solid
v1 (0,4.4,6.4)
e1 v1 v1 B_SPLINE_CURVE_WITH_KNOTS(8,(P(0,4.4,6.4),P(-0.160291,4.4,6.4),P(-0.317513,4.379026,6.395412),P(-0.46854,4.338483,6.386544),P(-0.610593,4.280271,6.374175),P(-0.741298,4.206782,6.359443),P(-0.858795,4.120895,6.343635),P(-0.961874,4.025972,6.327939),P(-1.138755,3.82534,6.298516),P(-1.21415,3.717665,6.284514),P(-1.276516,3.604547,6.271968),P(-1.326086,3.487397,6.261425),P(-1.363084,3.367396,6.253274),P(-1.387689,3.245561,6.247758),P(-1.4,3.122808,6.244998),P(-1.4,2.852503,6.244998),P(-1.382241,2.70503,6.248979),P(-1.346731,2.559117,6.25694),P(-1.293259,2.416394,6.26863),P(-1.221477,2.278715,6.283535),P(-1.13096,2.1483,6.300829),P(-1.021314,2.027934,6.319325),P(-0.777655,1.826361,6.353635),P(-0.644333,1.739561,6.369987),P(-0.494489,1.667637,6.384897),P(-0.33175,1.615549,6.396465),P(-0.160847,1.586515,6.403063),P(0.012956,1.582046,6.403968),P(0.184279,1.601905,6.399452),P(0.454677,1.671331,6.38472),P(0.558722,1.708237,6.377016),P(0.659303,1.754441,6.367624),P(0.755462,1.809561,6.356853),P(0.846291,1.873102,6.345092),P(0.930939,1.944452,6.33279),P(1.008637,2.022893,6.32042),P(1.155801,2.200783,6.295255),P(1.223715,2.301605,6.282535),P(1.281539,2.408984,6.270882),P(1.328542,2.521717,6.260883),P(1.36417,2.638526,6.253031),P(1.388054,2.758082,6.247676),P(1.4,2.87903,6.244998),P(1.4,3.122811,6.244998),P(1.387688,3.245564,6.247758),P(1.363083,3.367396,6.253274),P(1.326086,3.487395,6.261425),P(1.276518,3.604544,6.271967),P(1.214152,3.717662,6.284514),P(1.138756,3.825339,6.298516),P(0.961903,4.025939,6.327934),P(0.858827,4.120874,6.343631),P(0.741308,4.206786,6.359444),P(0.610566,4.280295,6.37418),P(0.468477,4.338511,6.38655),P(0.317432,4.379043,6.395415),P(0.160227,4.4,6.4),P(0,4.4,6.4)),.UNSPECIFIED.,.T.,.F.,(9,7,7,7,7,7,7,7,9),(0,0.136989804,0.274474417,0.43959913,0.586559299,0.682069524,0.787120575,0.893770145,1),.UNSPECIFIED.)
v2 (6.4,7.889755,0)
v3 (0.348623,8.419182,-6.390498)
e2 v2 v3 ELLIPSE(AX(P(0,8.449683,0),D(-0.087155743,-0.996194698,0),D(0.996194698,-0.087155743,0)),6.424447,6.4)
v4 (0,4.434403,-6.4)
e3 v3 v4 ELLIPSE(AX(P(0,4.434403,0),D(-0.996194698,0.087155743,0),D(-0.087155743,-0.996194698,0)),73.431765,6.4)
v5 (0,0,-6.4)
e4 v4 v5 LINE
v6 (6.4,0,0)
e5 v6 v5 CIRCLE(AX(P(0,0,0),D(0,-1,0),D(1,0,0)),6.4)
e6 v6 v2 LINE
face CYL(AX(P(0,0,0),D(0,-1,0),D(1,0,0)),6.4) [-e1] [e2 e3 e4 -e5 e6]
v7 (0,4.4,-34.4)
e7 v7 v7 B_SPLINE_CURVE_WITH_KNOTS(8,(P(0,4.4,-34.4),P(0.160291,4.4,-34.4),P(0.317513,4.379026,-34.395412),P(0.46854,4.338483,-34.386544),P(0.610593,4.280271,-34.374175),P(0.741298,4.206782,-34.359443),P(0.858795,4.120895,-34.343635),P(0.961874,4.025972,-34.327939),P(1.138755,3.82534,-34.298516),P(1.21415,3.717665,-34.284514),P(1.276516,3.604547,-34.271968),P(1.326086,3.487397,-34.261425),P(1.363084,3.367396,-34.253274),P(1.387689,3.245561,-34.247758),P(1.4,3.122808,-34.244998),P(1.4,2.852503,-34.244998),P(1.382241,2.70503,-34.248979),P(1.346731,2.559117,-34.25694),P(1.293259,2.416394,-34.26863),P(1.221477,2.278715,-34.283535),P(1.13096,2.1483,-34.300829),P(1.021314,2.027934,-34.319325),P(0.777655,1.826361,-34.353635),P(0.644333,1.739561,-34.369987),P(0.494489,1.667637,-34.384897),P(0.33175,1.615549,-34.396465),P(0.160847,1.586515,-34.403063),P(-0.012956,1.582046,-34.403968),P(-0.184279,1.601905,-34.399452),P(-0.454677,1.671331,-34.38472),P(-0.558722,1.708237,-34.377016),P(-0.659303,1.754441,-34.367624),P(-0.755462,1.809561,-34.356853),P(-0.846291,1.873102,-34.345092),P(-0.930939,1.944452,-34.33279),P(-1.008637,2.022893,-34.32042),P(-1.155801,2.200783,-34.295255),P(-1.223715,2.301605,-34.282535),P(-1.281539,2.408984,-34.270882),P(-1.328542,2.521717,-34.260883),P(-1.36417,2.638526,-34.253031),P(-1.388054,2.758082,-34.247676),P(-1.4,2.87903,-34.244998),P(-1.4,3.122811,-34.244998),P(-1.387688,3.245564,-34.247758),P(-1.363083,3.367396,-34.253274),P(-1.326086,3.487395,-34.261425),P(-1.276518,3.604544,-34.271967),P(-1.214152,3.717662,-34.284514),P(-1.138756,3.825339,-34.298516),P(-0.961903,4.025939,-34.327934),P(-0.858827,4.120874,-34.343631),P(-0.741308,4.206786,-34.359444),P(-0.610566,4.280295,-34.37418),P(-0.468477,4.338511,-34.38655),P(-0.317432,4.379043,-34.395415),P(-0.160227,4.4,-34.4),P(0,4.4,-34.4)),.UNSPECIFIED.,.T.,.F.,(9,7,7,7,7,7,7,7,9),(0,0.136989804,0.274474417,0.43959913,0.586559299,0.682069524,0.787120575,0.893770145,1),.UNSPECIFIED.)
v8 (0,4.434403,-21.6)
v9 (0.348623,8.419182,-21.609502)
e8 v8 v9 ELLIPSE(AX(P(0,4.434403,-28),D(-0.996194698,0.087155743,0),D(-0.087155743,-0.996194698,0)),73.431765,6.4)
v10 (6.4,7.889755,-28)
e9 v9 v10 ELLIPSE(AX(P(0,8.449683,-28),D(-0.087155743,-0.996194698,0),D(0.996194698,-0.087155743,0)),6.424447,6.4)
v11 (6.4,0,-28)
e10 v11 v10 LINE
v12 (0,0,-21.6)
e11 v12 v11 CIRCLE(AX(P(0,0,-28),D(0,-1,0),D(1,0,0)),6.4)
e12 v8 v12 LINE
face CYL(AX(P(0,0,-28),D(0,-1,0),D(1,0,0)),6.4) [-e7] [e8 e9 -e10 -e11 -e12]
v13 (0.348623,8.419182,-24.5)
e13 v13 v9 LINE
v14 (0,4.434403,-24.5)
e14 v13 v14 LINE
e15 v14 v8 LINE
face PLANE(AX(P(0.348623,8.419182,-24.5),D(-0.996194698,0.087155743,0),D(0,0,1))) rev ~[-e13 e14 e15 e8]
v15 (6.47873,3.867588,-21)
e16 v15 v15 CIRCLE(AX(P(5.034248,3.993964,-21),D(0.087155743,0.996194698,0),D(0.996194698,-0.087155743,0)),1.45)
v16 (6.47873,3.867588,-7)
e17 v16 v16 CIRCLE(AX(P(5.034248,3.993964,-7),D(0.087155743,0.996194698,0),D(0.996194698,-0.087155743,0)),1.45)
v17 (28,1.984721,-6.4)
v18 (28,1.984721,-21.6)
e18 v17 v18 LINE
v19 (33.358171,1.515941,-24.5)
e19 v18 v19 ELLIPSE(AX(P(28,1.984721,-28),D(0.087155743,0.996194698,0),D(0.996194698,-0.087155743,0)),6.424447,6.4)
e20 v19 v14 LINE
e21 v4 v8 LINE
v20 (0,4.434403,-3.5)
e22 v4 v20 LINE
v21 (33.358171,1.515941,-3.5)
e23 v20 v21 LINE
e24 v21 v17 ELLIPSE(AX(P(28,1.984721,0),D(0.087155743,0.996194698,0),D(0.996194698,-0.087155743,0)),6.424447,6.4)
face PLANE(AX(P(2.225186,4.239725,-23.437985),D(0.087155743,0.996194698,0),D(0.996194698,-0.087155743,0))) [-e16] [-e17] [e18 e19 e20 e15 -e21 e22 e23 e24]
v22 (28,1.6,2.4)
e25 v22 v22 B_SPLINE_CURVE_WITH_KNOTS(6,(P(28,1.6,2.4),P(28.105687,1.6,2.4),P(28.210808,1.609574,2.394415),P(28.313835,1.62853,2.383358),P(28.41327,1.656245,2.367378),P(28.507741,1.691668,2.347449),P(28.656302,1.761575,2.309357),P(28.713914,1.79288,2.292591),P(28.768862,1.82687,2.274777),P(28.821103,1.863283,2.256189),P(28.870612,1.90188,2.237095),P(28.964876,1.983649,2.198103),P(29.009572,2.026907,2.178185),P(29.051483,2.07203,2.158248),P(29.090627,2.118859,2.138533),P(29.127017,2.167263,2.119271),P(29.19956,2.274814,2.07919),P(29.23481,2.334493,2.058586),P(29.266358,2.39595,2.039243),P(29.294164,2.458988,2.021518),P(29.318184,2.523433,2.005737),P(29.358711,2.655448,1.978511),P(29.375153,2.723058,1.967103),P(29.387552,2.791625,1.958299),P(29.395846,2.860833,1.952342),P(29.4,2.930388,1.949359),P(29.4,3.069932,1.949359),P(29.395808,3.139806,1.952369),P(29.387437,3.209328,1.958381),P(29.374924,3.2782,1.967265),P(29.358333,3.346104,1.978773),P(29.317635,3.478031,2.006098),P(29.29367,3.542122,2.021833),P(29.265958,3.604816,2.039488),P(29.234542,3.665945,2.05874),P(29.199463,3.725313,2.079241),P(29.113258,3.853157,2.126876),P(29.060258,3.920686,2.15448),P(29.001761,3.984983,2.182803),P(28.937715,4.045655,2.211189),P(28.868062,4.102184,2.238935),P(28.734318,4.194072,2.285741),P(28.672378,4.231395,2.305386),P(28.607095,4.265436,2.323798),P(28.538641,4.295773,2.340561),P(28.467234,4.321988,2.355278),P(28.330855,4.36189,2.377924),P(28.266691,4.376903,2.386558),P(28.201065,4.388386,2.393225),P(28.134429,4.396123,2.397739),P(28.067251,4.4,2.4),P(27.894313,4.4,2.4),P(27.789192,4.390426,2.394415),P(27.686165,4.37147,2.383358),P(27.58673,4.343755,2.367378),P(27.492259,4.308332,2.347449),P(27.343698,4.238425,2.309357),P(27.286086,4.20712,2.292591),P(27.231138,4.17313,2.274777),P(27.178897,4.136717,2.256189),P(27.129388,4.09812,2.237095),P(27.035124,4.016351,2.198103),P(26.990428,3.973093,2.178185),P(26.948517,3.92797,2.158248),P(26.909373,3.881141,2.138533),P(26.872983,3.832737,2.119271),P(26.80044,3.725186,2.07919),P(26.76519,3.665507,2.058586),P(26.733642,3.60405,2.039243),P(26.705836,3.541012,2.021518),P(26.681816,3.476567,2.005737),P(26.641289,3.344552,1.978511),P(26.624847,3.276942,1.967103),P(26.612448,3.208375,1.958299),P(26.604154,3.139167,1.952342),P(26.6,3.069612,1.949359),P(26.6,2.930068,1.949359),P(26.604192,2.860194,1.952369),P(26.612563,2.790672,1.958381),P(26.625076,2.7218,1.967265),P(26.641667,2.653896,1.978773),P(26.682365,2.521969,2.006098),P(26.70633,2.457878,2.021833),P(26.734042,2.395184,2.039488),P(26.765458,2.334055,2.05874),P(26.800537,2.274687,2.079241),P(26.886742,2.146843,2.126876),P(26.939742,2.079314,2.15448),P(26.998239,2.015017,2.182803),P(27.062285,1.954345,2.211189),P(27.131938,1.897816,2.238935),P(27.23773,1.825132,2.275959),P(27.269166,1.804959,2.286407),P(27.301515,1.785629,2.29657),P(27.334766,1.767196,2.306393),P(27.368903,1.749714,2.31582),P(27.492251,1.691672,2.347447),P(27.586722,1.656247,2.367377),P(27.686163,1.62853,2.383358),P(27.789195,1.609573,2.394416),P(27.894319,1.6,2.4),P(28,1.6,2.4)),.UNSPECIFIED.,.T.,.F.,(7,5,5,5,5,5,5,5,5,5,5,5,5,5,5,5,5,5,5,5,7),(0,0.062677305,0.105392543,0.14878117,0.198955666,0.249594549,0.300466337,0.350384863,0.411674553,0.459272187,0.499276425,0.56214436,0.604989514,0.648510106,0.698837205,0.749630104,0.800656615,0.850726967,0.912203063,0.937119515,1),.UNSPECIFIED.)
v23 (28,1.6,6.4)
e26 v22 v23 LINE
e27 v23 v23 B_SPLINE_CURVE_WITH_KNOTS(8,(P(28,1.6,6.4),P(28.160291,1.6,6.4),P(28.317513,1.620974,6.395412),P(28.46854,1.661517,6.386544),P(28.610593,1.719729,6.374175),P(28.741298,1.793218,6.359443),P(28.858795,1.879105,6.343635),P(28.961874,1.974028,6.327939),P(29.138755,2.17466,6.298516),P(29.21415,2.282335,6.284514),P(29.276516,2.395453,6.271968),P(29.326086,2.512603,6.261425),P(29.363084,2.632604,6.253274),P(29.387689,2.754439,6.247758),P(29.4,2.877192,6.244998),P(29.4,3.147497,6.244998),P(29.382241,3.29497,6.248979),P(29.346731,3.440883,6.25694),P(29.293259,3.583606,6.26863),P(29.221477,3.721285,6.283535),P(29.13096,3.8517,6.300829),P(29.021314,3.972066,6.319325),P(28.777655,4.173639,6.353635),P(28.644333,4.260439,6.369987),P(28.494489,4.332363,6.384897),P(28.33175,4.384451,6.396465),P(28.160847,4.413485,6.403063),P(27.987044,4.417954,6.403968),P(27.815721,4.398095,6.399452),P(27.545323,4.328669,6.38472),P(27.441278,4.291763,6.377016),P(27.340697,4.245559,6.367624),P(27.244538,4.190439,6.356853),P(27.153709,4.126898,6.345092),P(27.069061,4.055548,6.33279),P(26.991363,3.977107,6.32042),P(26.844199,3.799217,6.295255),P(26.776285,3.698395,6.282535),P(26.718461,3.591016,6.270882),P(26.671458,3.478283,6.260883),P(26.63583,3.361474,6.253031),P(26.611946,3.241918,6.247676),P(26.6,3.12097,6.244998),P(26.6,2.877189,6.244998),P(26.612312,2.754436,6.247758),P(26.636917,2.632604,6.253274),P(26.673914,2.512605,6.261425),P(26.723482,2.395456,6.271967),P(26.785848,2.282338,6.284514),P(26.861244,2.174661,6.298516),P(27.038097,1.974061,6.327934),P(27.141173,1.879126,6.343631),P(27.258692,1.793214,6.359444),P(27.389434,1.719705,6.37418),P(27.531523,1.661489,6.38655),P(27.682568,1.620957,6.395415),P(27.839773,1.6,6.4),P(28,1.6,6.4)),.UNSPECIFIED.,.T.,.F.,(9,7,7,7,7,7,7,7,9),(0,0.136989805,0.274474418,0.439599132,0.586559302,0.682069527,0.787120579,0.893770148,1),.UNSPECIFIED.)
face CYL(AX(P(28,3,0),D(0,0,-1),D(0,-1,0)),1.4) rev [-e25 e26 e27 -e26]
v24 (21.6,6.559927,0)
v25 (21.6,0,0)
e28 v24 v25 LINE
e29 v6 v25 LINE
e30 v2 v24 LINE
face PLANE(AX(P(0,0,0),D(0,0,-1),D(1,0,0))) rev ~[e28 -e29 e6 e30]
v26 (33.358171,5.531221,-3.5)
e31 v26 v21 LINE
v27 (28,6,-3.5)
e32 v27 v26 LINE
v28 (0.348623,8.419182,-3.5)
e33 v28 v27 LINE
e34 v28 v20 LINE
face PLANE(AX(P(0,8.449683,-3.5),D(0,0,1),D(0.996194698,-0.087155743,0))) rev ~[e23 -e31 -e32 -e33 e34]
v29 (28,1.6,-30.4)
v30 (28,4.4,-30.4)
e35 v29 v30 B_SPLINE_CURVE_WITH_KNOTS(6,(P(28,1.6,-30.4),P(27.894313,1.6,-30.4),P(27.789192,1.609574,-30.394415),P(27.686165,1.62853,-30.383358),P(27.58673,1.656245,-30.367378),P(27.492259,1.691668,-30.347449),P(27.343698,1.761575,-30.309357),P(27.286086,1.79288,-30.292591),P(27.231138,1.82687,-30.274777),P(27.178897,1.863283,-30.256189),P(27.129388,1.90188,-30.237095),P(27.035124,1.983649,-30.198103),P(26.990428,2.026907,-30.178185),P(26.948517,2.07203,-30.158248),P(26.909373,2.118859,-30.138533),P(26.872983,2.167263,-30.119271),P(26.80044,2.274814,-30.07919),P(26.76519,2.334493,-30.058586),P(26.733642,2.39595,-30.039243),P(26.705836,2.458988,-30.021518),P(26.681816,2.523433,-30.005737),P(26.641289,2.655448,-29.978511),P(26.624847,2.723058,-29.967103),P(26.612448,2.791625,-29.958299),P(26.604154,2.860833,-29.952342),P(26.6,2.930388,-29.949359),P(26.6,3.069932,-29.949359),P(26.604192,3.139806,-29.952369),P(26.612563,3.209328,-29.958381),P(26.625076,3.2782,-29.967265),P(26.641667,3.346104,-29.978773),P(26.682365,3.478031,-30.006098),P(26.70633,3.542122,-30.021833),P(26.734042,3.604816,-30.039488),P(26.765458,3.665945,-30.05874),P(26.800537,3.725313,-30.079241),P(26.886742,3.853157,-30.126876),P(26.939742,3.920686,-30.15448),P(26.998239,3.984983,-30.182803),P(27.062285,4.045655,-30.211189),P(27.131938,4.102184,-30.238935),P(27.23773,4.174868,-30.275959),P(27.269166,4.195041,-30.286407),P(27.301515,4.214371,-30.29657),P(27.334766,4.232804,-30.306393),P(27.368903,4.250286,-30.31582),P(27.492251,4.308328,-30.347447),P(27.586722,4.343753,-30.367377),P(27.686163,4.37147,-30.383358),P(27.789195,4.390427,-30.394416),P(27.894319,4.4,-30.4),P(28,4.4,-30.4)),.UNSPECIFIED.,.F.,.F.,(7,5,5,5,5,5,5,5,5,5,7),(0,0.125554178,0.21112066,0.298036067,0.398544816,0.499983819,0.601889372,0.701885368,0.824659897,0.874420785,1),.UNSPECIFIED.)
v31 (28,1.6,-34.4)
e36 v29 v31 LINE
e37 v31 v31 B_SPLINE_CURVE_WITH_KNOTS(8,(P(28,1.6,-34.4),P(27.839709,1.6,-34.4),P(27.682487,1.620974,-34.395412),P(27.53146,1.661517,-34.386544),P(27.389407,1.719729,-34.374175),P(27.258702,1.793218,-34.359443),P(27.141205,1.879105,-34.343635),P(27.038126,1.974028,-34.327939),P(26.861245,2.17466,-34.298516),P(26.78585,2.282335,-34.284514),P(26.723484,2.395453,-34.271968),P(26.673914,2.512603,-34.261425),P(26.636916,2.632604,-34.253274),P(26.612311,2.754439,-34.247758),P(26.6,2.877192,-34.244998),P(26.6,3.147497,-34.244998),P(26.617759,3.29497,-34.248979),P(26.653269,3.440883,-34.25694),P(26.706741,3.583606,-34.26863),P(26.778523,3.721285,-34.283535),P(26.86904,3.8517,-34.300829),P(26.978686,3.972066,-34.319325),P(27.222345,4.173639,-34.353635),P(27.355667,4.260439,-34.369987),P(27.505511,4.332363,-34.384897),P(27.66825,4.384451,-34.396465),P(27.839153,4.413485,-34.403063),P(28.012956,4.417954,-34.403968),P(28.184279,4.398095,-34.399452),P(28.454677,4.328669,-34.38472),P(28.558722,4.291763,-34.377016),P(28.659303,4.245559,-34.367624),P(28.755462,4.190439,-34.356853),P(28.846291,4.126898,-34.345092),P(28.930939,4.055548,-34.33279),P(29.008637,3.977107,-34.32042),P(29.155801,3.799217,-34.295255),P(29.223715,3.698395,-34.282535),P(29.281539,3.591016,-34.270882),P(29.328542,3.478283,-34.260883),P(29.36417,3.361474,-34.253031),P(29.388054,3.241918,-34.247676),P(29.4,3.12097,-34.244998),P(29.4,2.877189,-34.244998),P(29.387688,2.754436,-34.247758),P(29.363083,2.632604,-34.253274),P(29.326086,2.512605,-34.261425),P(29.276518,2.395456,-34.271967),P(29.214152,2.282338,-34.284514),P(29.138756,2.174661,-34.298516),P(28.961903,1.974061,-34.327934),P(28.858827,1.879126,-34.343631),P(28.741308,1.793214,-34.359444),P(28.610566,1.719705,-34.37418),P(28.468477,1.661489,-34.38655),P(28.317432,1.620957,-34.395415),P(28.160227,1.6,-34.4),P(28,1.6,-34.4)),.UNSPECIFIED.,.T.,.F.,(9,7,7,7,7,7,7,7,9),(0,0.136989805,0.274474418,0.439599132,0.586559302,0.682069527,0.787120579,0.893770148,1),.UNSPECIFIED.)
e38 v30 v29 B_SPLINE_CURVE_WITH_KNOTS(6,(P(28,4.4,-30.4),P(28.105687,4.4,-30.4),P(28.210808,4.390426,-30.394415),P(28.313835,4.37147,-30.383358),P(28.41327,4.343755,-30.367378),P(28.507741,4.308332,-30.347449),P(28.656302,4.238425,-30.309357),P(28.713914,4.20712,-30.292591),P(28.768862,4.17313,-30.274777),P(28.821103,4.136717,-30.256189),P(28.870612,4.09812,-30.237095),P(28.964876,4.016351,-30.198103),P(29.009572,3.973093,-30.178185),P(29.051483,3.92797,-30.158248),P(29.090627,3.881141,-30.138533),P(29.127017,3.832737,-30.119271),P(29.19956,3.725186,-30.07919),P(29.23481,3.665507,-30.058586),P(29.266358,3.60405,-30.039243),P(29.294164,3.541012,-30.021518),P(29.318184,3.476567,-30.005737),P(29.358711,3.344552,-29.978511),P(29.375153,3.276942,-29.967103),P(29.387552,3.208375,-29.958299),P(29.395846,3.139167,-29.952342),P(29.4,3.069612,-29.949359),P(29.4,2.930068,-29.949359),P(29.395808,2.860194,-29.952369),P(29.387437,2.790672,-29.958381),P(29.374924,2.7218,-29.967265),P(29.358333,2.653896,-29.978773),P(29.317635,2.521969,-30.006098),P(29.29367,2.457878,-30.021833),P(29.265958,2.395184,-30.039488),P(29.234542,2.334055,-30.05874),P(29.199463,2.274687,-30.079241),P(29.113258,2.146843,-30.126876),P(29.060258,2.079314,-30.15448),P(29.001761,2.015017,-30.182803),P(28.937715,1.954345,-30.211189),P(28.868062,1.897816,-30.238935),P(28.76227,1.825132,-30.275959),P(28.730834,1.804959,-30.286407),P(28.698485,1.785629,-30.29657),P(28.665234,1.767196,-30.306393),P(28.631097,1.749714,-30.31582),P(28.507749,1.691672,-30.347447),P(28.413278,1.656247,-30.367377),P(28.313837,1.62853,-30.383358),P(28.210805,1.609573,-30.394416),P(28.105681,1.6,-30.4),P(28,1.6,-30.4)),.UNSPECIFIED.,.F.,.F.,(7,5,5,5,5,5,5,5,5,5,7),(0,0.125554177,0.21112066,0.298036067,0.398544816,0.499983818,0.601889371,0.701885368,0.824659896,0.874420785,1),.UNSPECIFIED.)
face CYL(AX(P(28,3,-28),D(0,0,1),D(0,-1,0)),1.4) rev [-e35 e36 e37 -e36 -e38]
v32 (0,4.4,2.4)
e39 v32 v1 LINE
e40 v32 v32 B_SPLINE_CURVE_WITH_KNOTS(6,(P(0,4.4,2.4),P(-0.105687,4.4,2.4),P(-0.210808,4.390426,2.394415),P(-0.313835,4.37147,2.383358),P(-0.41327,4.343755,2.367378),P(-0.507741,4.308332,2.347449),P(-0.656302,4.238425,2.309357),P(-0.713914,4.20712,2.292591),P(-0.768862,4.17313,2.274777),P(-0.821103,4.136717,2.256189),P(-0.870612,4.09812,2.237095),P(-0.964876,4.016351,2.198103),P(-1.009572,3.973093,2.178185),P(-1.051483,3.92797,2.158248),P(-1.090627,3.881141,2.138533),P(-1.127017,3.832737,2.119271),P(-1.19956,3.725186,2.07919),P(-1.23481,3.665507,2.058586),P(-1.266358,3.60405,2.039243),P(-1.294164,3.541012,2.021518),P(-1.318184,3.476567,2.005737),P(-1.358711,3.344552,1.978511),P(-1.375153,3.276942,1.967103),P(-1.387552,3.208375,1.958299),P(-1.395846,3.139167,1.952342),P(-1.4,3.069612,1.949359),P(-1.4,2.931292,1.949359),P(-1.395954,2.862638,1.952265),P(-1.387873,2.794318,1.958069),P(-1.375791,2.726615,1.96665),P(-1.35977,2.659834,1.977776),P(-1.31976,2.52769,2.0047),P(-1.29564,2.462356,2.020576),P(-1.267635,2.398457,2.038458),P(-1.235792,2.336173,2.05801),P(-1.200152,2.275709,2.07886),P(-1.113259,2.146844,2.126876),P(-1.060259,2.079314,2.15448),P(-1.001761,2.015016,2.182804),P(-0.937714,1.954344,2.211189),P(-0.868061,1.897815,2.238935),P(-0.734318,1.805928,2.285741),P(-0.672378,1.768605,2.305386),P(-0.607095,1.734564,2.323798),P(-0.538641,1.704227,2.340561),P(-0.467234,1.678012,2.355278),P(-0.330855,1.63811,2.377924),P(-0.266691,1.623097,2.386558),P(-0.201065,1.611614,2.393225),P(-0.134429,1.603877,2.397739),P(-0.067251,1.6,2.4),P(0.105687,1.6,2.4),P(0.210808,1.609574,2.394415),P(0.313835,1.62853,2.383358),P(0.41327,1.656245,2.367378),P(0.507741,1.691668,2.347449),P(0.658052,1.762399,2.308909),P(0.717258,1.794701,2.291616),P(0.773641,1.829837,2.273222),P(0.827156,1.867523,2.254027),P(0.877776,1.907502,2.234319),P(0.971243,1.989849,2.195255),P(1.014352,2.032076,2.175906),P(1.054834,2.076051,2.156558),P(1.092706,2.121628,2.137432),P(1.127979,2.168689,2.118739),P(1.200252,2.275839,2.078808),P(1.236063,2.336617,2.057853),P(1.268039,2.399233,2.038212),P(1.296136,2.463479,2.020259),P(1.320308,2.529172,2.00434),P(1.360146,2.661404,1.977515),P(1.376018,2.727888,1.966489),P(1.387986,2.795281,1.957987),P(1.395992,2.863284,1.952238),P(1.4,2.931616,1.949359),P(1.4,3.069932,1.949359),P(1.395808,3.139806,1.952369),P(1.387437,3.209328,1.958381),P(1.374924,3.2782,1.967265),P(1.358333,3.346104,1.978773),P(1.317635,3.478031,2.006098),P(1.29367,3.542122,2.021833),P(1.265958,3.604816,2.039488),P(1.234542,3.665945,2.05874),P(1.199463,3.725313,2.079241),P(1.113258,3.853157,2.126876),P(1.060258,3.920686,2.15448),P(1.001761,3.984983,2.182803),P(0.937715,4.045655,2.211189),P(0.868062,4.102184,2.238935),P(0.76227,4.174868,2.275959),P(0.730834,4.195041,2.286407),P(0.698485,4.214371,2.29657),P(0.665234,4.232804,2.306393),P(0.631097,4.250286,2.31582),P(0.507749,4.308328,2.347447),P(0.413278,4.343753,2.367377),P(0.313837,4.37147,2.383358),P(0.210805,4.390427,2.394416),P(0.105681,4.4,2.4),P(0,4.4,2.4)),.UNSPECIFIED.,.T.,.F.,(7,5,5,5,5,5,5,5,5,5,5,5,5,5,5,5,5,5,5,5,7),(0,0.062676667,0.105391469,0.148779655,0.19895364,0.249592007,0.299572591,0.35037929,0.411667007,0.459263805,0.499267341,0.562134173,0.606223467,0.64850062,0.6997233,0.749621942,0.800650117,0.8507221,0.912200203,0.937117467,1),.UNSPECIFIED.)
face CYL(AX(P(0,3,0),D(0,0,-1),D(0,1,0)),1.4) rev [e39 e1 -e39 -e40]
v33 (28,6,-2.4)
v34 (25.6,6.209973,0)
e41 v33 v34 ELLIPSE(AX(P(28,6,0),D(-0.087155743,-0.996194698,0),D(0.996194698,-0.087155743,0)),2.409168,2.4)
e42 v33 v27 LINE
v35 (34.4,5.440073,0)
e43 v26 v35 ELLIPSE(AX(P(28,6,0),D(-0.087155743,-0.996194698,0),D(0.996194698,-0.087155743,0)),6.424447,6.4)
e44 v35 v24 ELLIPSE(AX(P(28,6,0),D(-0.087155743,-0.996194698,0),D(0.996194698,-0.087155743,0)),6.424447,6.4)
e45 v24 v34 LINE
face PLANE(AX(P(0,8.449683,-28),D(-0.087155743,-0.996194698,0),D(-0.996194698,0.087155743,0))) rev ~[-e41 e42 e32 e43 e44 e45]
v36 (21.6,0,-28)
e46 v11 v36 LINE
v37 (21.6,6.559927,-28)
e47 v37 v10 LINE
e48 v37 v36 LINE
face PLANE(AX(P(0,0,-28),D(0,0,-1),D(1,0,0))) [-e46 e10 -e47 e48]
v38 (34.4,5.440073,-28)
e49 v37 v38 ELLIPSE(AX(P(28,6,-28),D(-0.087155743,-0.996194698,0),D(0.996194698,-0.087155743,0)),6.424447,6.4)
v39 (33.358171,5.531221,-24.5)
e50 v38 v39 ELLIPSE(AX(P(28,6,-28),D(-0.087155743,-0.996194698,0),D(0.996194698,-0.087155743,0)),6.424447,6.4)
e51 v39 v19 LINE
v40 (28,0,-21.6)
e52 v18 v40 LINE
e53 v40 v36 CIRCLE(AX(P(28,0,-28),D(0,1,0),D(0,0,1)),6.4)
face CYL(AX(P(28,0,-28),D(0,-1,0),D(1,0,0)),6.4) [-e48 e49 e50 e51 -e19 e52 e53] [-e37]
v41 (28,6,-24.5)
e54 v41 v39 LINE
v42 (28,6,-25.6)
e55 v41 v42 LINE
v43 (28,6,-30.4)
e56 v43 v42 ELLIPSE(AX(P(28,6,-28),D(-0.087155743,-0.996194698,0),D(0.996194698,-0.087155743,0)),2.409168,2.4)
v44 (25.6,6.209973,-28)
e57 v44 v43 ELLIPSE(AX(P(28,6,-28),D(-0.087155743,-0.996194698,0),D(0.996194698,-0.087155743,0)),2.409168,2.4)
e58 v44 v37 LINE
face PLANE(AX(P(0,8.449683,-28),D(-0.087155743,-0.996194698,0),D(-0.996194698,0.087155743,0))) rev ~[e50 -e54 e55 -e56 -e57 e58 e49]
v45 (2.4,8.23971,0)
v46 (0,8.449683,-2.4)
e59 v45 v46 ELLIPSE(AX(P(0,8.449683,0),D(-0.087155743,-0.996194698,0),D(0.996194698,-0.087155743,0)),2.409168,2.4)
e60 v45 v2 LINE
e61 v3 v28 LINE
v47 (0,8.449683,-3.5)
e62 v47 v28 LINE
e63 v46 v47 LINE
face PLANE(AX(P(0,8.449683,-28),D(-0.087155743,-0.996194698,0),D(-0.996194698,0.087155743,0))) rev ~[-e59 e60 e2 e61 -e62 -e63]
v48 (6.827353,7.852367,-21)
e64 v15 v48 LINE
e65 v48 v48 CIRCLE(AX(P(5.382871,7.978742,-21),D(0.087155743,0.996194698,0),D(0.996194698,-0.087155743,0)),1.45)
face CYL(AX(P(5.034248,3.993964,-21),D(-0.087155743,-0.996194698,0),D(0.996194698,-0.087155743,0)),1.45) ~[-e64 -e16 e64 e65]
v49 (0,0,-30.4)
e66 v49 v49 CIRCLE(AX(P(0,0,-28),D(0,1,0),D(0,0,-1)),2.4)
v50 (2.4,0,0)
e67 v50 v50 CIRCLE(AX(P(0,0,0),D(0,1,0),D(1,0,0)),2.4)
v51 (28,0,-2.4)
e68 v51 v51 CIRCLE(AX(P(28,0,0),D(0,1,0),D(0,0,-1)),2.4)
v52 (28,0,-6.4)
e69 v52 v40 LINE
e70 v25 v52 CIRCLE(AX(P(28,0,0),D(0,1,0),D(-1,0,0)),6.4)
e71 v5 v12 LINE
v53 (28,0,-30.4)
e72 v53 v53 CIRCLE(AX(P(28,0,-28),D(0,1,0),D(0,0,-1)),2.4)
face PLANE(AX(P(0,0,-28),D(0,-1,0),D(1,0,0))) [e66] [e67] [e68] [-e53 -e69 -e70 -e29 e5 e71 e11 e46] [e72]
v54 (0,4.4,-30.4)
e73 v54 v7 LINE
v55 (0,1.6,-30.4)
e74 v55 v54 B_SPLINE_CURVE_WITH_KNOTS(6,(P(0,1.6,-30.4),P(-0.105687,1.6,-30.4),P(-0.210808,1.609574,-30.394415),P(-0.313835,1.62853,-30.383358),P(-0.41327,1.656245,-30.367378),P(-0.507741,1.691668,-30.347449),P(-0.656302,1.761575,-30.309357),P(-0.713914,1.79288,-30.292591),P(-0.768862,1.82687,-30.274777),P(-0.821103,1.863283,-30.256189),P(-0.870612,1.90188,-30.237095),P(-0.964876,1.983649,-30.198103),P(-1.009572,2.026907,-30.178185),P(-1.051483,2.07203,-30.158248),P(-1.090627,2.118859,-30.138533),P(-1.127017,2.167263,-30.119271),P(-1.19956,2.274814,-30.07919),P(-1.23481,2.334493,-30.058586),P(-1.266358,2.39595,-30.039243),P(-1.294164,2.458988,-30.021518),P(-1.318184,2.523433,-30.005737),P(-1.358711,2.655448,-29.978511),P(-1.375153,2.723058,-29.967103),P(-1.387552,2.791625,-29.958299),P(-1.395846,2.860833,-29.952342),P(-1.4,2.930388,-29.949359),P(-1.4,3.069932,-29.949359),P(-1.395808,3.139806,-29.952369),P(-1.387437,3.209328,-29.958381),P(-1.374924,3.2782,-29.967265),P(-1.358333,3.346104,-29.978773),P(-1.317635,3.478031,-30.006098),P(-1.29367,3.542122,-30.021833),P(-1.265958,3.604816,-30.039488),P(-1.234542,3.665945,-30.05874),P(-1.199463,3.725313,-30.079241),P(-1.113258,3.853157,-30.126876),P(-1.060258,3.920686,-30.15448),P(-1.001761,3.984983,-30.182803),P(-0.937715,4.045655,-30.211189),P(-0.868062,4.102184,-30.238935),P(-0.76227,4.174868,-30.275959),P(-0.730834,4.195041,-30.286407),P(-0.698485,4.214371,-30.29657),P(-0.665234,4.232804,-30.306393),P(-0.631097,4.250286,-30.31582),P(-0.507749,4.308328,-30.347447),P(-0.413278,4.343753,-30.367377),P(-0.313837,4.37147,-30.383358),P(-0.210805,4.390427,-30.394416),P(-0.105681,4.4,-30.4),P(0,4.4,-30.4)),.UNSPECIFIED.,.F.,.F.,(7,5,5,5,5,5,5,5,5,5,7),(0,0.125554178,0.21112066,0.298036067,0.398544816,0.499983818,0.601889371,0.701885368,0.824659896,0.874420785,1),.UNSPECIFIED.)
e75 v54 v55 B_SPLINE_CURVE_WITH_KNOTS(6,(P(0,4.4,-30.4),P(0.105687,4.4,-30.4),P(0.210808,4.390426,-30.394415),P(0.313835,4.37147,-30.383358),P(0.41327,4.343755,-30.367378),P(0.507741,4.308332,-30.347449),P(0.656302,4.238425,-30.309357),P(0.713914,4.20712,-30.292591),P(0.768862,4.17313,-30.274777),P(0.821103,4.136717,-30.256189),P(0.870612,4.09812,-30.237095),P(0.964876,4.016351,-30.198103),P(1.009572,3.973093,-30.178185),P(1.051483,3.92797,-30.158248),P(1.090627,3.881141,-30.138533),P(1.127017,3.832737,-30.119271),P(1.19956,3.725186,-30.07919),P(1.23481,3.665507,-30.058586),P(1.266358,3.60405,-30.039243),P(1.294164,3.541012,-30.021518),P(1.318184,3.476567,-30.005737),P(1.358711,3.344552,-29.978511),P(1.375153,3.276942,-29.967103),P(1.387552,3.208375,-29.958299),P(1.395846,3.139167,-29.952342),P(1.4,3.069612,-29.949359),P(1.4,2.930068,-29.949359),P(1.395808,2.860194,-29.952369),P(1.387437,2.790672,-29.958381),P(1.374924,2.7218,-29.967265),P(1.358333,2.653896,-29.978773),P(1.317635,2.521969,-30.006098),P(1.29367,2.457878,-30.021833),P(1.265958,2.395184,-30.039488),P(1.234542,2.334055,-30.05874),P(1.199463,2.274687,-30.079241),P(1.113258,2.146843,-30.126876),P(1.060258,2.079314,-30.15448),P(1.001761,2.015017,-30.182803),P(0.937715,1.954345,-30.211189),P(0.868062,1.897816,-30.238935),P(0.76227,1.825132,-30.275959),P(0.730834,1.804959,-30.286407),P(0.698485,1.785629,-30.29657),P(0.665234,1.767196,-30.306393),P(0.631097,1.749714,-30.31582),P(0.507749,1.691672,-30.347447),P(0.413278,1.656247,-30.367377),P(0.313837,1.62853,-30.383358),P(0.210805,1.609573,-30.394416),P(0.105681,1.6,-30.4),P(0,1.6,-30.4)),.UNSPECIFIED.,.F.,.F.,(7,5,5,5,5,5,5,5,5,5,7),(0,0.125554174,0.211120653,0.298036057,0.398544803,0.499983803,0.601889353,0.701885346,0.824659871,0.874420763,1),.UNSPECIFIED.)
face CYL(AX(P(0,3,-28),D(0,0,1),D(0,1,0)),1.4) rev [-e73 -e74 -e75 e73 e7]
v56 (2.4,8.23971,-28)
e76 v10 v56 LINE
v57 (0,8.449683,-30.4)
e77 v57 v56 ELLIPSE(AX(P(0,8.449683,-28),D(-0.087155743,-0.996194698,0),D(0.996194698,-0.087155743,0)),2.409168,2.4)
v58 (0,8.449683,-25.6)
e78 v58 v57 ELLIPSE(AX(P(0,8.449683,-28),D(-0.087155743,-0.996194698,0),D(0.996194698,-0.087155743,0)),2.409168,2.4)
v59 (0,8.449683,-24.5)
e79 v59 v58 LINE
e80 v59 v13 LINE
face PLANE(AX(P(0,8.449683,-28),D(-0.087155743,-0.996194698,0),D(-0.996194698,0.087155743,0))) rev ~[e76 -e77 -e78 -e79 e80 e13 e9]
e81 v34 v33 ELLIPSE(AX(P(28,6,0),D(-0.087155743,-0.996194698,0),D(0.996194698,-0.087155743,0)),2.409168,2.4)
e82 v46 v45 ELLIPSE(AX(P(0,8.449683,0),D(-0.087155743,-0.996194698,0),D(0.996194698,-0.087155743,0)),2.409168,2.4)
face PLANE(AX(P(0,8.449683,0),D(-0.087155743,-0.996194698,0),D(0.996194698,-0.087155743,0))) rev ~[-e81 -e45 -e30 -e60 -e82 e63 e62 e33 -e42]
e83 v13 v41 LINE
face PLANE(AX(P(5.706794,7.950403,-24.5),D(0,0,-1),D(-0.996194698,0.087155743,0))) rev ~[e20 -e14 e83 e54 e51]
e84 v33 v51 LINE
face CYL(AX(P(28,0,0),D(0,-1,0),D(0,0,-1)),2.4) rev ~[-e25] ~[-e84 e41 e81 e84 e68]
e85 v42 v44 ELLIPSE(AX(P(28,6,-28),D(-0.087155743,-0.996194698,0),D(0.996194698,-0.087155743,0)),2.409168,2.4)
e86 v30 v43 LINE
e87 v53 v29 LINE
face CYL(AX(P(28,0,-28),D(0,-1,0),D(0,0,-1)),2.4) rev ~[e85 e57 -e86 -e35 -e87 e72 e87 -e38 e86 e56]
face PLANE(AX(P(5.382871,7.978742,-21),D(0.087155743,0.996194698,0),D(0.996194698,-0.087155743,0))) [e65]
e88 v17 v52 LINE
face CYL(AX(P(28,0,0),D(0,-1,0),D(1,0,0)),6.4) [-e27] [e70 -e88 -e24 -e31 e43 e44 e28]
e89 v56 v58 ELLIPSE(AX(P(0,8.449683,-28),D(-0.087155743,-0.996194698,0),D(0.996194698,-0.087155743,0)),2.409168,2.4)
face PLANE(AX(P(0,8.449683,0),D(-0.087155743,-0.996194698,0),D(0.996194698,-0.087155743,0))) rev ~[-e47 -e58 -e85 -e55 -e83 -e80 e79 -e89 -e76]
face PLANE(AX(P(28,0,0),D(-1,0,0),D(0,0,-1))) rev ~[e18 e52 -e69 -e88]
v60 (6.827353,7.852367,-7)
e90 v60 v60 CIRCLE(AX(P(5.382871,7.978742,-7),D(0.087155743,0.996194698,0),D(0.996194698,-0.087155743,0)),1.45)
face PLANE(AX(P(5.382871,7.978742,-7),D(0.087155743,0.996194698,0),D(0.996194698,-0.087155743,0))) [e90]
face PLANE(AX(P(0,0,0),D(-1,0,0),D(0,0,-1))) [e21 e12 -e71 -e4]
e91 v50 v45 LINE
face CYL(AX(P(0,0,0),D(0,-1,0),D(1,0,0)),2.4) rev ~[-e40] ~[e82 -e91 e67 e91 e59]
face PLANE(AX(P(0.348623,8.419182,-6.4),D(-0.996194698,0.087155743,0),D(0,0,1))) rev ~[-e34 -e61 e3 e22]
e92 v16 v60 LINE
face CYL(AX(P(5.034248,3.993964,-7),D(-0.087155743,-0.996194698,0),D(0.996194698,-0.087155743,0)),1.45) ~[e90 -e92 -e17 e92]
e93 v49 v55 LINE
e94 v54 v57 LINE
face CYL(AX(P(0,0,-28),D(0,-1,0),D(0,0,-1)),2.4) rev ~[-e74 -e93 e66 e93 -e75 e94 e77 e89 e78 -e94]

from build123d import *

# Parameters (mm, degrees)
SKETCH1_W           = 28
SKETCH1_H           = 28
BOSS_EXTRUDE1_DEPTH = 8.449682579
CUT_EXTRUDE1_DEPTH  = 41.489469442
SKETCH3_W           = 50
SKETCH3_H           = 21
CUT_EXTRUDE2_DEPTH  = 4
SKETCH11_R          = 1.45
BOSS_EXTRUDE2_DEPTH = 4
SKETCH13_R          = 2.4
CUT_EXTRUDE5_DEPTH  = 41.489469442
BOSS_EXTRUDE3_REACH = 42.489
SKETCH14_R          = 6.4
SKETCH14_R_2        = 2.4
SKETCH15_R          = 1.4
CUT_EXTRUDE6_DEPTH  = 50.476186927
SKETCH16_R          = 1.4
CUT_EXTRUDE7_DEPTH  = 50.476187084
SKETCH18_W          = 30
SKETCH18_H          = 21
CUT_EXTRUDE8_DEPTH  = 4


with BuildPart() as part:
    # Sketch1 → Boss-Extrude1 (new body)
    with BuildSketch(Plane(origin=(0, 0, 0), x_dir=(1, 0, 0), z_dir=(0, 1, 0))):
        with Locations((14, 14)):
            Rectangle(SKETCH1_W, SKETCH1_H)
    extrude(amount=BOSS_EXTRUDE1_DEPTH)

    # Sketch2 → Cut-Extrude1 (cut, through all)
    with BuildSketch(Plane.XY):
        Polygon((0, 8.449682579), (28, 6), (28, 8.449682579), align=None)
    extrude(amount=-CUT_EXTRUDE1_DEPTH, mode=Mode.SUBTRACT)

    # Sketch3 → Cut-Extrude2 (cut)
    with BuildSketch(Plane(origin=(0.733635991, 8.385497746, 0), x_dir=(0.9961946980917455, -0.08715574274765811, 0), z_dir=(0.08715574274765811, 0.9961946980917455, 0))):
        with Locations((24.263561639, 14)):
            Rectangle(SKETCH3_W, SKETCH3_H)
    extrude(amount=-CUT_EXTRUDE2_DEPTH, mode=Mode.SUBTRACT)

    # Sketch11 → Boss-Extrude2 (add)
    with BuildSketch(Plane(origin=(0.38501302, 4.400718954, 0), x_dir=(0.9961946980917457, -0.08715574274765812, 0), z_dir=(0.08715574274765812, 0.9961946980917457, 0))):
        with Locations((4.666994019, 21)):
            Circle(SKETCH11_R)
        with Locations((4.666994019, 7)):
            Circle(SKETCH11_R)
    extrude(amount=BOSS_EXTRUDE2_DEPTH)

    # Sketch13 → Cut-Extrude5 (cut, through all)
    with BuildSketch(Plane.XZ):
        Circle(SKETCH13_R)
        with Locations((28, 0)):
            Circle(SKETCH13_R)
        with Locations((28, -28)):
            Circle(SKETCH13_R)
        with Locations((0, -28)):
            Circle(SKETCH13_R)
    extrude(amount=-CUT_EXTRUDE5_DEPTH, mode=Mode.SUBTRACT)

    # Boss-Extrude3: up to this plane
    boss_extrude3_end = Plane(origin=(0, 8.449682579, -28), z_dir=(-0.08715574274765814, -0.9961946980917457, 0))
    # Sketch14 → Boss-Extrude3 (add, up to the surface)
    with BuildSketch(Plane.XZ, mode=Mode.PRIVATE) as boss_extrude3_sk1:
        Circle(SKETCH14_R)
        with Locations(Location((0, 0, 0), (0, 0, 270))):
            Circle(SKETCH14_R_2, mode=Mode.SUBTRACT)
    boss_extrude3_tool1 = split(extrude(boss_extrude3_sk1.sketch, amount=-BOSS_EXTRUDE3_REACH, mode=Mode.PRIVATE), bisect_by=boss_extrude3_end, keep=Keep.BOTH, mode=Mode.PRIVATE)
    add(boss_extrude3_tool1.solids().sort_by_distance((-6.218981, 0, 0))[0])
    # Sketch14 → Boss-Extrude3 (add, up to the surface)
    with BuildSketch(Plane.XZ, mode=Mode.PRIVATE) as boss_extrude3_sk2:
        with Locations((28, 0)):
            Circle(SKETCH14_R)
        with Locations(Location((28, 0, 0), (0, 0, 270))):
            Circle(SKETCH14_R_2, mode=Mode.SUBTRACT)
    boss_extrude3_tool2 = split(extrude(boss_extrude3_sk2.sketch, amount=-BOSS_EXTRUDE3_REACH, mode=Mode.PRIVATE), bisect_by=boss_extrude3_end, keep=Keep.BOTH, mode=Mode.PRIVATE)
    add(boss_extrude3_tool2.solids().sort_by_distance((21.781019, 0, 0))[0])
    # Sketch14 → Boss-Extrude3 (add, up to the surface)
    with BuildSketch(Plane.XZ, mode=Mode.PRIVATE) as boss_extrude3_sk3:
        with Locations((28, -28)):
            Circle(SKETCH14_R)
        with Locations(Location((28, -28, 0), (0, 0, 270))):
            Circle(SKETCH14_R_2, mode=Mode.SUBTRACT)
    boss_extrude3_tool3 = split(extrude(boss_extrude3_sk3.sketch, amount=-BOSS_EXTRUDE3_REACH, mode=Mode.PRIVATE), bisect_by=boss_extrude3_end, keep=Keep.BOTH, mode=Mode.PRIVATE)
    add(boss_extrude3_tool3.solids().sort_by_distance((21.781019, 0, -28))[0])
    # Sketch14 → Boss-Extrude3 (add, up to the surface)
    with BuildSketch(Plane.XZ, mode=Mode.PRIVATE) as boss_extrude3_sk4:
        with Locations((0, -28)):
            Circle(SKETCH14_R)
        with Locations(Location((0, -28, 0), (0, 0, 270))):
            Circle(SKETCH14_R_2, mode=Mode.SUBTRACT)
    boss_extrude3_tool4 = split(extrude(boss_extrude3_sk4.sketch, amount=-BOSS_EXTRUDE3_REACH, mode=Mode.PRIVATE), bisect_by=boss_extrude3_end, keep=Keep.BOTH, mode=Mode.PRIVATE)
    add(boss_extrude3_tool4.solids().sort_by_distance((-6.218981, 0, -28))[0])

    # Sketch15 → Cut-Extrude6 (cut, through all)
    with BuildSketch(Plane(origin=(0, 0, -28), x_dir=(-1, 0, 0), z_dir=(0, 0, -1))):
        with Locations(Location((-28, 3, 0), (0, 0, 270))):
            Circle(SKETCH15_R)
        with Locations(Location((0, 3, 0), (0, 0, 90))):
            Circle(SKETCH15_R)
    extrude(amount=CUT_EXTRUDE6_DEPTH, mode=Mode.SUBTRACT)

    # Sketch16 → Cut-Extrude7 (cut, through all)
    with BuildSketch(Plane.XY):
        with Locations(Location((0, 3, 0), (0, 0, 90))):
            Circle(SKETCH16_R)
        with Locations(Location((28, 3, 0), (0, 0, 270))):
            Circle(SKETCH16_R)
    extrude(amount=CUT_EXTRUDE7_DEPTH, mode=Mode.SUBTRACT)

    # Sketch18 → Cut-Extrude8 (cut)
    with BuildSketch(Plane(origin=(0.733635991, 8.385497746, 0), x_dir=(0.9961946980917455, -0.08715574274765811, 0), z_dir=(0.08715574274765811, 0.9961946980917455, 0))):
        with BuildLine():
            Line((4.992154967, 24.5), (-0.386483707, 24.5))
            Line((-0.386483707, 24.5), (-0.386483707, 21.6))
            add(Edge.make_bspline(
                [(-0.386483707, 21.6), (3.090616042, 21.6), (4.992154967, 24.5)],
                knots=[4.71238898, 4.71238898, 4.71238898, 5.704558256, 5.704558256, 5.704558256], degree=2, weights=[1, 0.879452955, 1]))
        make_face()
        with Locations((21.991878416, 14)):
            Rectangle(SKETCH18_W, SKETCH18_H)
        with BuildLine():
            Line((-0.386483707, 6.4), (-0.386483707, 3.5))
            Line((-0.386483707, 3.5), (4.992154967, 3.5))
            add(Edge.make_bspline(
                [(4.992154967, 3.5), (3.090616042, 6.4), (-0.386483707, 6.4)],
                knots=[0.578627051, 0.578627051, 0.578627051, 1.570796327, 1.570796327, 1.570796327], degree=2, weights=[1, 0.879452955, 1]))
        make_face()
    extrude(amount=-CUT_EXTRUDE8_DEPTH, mode=Mode.SUBTRACT)


solid = part.part
